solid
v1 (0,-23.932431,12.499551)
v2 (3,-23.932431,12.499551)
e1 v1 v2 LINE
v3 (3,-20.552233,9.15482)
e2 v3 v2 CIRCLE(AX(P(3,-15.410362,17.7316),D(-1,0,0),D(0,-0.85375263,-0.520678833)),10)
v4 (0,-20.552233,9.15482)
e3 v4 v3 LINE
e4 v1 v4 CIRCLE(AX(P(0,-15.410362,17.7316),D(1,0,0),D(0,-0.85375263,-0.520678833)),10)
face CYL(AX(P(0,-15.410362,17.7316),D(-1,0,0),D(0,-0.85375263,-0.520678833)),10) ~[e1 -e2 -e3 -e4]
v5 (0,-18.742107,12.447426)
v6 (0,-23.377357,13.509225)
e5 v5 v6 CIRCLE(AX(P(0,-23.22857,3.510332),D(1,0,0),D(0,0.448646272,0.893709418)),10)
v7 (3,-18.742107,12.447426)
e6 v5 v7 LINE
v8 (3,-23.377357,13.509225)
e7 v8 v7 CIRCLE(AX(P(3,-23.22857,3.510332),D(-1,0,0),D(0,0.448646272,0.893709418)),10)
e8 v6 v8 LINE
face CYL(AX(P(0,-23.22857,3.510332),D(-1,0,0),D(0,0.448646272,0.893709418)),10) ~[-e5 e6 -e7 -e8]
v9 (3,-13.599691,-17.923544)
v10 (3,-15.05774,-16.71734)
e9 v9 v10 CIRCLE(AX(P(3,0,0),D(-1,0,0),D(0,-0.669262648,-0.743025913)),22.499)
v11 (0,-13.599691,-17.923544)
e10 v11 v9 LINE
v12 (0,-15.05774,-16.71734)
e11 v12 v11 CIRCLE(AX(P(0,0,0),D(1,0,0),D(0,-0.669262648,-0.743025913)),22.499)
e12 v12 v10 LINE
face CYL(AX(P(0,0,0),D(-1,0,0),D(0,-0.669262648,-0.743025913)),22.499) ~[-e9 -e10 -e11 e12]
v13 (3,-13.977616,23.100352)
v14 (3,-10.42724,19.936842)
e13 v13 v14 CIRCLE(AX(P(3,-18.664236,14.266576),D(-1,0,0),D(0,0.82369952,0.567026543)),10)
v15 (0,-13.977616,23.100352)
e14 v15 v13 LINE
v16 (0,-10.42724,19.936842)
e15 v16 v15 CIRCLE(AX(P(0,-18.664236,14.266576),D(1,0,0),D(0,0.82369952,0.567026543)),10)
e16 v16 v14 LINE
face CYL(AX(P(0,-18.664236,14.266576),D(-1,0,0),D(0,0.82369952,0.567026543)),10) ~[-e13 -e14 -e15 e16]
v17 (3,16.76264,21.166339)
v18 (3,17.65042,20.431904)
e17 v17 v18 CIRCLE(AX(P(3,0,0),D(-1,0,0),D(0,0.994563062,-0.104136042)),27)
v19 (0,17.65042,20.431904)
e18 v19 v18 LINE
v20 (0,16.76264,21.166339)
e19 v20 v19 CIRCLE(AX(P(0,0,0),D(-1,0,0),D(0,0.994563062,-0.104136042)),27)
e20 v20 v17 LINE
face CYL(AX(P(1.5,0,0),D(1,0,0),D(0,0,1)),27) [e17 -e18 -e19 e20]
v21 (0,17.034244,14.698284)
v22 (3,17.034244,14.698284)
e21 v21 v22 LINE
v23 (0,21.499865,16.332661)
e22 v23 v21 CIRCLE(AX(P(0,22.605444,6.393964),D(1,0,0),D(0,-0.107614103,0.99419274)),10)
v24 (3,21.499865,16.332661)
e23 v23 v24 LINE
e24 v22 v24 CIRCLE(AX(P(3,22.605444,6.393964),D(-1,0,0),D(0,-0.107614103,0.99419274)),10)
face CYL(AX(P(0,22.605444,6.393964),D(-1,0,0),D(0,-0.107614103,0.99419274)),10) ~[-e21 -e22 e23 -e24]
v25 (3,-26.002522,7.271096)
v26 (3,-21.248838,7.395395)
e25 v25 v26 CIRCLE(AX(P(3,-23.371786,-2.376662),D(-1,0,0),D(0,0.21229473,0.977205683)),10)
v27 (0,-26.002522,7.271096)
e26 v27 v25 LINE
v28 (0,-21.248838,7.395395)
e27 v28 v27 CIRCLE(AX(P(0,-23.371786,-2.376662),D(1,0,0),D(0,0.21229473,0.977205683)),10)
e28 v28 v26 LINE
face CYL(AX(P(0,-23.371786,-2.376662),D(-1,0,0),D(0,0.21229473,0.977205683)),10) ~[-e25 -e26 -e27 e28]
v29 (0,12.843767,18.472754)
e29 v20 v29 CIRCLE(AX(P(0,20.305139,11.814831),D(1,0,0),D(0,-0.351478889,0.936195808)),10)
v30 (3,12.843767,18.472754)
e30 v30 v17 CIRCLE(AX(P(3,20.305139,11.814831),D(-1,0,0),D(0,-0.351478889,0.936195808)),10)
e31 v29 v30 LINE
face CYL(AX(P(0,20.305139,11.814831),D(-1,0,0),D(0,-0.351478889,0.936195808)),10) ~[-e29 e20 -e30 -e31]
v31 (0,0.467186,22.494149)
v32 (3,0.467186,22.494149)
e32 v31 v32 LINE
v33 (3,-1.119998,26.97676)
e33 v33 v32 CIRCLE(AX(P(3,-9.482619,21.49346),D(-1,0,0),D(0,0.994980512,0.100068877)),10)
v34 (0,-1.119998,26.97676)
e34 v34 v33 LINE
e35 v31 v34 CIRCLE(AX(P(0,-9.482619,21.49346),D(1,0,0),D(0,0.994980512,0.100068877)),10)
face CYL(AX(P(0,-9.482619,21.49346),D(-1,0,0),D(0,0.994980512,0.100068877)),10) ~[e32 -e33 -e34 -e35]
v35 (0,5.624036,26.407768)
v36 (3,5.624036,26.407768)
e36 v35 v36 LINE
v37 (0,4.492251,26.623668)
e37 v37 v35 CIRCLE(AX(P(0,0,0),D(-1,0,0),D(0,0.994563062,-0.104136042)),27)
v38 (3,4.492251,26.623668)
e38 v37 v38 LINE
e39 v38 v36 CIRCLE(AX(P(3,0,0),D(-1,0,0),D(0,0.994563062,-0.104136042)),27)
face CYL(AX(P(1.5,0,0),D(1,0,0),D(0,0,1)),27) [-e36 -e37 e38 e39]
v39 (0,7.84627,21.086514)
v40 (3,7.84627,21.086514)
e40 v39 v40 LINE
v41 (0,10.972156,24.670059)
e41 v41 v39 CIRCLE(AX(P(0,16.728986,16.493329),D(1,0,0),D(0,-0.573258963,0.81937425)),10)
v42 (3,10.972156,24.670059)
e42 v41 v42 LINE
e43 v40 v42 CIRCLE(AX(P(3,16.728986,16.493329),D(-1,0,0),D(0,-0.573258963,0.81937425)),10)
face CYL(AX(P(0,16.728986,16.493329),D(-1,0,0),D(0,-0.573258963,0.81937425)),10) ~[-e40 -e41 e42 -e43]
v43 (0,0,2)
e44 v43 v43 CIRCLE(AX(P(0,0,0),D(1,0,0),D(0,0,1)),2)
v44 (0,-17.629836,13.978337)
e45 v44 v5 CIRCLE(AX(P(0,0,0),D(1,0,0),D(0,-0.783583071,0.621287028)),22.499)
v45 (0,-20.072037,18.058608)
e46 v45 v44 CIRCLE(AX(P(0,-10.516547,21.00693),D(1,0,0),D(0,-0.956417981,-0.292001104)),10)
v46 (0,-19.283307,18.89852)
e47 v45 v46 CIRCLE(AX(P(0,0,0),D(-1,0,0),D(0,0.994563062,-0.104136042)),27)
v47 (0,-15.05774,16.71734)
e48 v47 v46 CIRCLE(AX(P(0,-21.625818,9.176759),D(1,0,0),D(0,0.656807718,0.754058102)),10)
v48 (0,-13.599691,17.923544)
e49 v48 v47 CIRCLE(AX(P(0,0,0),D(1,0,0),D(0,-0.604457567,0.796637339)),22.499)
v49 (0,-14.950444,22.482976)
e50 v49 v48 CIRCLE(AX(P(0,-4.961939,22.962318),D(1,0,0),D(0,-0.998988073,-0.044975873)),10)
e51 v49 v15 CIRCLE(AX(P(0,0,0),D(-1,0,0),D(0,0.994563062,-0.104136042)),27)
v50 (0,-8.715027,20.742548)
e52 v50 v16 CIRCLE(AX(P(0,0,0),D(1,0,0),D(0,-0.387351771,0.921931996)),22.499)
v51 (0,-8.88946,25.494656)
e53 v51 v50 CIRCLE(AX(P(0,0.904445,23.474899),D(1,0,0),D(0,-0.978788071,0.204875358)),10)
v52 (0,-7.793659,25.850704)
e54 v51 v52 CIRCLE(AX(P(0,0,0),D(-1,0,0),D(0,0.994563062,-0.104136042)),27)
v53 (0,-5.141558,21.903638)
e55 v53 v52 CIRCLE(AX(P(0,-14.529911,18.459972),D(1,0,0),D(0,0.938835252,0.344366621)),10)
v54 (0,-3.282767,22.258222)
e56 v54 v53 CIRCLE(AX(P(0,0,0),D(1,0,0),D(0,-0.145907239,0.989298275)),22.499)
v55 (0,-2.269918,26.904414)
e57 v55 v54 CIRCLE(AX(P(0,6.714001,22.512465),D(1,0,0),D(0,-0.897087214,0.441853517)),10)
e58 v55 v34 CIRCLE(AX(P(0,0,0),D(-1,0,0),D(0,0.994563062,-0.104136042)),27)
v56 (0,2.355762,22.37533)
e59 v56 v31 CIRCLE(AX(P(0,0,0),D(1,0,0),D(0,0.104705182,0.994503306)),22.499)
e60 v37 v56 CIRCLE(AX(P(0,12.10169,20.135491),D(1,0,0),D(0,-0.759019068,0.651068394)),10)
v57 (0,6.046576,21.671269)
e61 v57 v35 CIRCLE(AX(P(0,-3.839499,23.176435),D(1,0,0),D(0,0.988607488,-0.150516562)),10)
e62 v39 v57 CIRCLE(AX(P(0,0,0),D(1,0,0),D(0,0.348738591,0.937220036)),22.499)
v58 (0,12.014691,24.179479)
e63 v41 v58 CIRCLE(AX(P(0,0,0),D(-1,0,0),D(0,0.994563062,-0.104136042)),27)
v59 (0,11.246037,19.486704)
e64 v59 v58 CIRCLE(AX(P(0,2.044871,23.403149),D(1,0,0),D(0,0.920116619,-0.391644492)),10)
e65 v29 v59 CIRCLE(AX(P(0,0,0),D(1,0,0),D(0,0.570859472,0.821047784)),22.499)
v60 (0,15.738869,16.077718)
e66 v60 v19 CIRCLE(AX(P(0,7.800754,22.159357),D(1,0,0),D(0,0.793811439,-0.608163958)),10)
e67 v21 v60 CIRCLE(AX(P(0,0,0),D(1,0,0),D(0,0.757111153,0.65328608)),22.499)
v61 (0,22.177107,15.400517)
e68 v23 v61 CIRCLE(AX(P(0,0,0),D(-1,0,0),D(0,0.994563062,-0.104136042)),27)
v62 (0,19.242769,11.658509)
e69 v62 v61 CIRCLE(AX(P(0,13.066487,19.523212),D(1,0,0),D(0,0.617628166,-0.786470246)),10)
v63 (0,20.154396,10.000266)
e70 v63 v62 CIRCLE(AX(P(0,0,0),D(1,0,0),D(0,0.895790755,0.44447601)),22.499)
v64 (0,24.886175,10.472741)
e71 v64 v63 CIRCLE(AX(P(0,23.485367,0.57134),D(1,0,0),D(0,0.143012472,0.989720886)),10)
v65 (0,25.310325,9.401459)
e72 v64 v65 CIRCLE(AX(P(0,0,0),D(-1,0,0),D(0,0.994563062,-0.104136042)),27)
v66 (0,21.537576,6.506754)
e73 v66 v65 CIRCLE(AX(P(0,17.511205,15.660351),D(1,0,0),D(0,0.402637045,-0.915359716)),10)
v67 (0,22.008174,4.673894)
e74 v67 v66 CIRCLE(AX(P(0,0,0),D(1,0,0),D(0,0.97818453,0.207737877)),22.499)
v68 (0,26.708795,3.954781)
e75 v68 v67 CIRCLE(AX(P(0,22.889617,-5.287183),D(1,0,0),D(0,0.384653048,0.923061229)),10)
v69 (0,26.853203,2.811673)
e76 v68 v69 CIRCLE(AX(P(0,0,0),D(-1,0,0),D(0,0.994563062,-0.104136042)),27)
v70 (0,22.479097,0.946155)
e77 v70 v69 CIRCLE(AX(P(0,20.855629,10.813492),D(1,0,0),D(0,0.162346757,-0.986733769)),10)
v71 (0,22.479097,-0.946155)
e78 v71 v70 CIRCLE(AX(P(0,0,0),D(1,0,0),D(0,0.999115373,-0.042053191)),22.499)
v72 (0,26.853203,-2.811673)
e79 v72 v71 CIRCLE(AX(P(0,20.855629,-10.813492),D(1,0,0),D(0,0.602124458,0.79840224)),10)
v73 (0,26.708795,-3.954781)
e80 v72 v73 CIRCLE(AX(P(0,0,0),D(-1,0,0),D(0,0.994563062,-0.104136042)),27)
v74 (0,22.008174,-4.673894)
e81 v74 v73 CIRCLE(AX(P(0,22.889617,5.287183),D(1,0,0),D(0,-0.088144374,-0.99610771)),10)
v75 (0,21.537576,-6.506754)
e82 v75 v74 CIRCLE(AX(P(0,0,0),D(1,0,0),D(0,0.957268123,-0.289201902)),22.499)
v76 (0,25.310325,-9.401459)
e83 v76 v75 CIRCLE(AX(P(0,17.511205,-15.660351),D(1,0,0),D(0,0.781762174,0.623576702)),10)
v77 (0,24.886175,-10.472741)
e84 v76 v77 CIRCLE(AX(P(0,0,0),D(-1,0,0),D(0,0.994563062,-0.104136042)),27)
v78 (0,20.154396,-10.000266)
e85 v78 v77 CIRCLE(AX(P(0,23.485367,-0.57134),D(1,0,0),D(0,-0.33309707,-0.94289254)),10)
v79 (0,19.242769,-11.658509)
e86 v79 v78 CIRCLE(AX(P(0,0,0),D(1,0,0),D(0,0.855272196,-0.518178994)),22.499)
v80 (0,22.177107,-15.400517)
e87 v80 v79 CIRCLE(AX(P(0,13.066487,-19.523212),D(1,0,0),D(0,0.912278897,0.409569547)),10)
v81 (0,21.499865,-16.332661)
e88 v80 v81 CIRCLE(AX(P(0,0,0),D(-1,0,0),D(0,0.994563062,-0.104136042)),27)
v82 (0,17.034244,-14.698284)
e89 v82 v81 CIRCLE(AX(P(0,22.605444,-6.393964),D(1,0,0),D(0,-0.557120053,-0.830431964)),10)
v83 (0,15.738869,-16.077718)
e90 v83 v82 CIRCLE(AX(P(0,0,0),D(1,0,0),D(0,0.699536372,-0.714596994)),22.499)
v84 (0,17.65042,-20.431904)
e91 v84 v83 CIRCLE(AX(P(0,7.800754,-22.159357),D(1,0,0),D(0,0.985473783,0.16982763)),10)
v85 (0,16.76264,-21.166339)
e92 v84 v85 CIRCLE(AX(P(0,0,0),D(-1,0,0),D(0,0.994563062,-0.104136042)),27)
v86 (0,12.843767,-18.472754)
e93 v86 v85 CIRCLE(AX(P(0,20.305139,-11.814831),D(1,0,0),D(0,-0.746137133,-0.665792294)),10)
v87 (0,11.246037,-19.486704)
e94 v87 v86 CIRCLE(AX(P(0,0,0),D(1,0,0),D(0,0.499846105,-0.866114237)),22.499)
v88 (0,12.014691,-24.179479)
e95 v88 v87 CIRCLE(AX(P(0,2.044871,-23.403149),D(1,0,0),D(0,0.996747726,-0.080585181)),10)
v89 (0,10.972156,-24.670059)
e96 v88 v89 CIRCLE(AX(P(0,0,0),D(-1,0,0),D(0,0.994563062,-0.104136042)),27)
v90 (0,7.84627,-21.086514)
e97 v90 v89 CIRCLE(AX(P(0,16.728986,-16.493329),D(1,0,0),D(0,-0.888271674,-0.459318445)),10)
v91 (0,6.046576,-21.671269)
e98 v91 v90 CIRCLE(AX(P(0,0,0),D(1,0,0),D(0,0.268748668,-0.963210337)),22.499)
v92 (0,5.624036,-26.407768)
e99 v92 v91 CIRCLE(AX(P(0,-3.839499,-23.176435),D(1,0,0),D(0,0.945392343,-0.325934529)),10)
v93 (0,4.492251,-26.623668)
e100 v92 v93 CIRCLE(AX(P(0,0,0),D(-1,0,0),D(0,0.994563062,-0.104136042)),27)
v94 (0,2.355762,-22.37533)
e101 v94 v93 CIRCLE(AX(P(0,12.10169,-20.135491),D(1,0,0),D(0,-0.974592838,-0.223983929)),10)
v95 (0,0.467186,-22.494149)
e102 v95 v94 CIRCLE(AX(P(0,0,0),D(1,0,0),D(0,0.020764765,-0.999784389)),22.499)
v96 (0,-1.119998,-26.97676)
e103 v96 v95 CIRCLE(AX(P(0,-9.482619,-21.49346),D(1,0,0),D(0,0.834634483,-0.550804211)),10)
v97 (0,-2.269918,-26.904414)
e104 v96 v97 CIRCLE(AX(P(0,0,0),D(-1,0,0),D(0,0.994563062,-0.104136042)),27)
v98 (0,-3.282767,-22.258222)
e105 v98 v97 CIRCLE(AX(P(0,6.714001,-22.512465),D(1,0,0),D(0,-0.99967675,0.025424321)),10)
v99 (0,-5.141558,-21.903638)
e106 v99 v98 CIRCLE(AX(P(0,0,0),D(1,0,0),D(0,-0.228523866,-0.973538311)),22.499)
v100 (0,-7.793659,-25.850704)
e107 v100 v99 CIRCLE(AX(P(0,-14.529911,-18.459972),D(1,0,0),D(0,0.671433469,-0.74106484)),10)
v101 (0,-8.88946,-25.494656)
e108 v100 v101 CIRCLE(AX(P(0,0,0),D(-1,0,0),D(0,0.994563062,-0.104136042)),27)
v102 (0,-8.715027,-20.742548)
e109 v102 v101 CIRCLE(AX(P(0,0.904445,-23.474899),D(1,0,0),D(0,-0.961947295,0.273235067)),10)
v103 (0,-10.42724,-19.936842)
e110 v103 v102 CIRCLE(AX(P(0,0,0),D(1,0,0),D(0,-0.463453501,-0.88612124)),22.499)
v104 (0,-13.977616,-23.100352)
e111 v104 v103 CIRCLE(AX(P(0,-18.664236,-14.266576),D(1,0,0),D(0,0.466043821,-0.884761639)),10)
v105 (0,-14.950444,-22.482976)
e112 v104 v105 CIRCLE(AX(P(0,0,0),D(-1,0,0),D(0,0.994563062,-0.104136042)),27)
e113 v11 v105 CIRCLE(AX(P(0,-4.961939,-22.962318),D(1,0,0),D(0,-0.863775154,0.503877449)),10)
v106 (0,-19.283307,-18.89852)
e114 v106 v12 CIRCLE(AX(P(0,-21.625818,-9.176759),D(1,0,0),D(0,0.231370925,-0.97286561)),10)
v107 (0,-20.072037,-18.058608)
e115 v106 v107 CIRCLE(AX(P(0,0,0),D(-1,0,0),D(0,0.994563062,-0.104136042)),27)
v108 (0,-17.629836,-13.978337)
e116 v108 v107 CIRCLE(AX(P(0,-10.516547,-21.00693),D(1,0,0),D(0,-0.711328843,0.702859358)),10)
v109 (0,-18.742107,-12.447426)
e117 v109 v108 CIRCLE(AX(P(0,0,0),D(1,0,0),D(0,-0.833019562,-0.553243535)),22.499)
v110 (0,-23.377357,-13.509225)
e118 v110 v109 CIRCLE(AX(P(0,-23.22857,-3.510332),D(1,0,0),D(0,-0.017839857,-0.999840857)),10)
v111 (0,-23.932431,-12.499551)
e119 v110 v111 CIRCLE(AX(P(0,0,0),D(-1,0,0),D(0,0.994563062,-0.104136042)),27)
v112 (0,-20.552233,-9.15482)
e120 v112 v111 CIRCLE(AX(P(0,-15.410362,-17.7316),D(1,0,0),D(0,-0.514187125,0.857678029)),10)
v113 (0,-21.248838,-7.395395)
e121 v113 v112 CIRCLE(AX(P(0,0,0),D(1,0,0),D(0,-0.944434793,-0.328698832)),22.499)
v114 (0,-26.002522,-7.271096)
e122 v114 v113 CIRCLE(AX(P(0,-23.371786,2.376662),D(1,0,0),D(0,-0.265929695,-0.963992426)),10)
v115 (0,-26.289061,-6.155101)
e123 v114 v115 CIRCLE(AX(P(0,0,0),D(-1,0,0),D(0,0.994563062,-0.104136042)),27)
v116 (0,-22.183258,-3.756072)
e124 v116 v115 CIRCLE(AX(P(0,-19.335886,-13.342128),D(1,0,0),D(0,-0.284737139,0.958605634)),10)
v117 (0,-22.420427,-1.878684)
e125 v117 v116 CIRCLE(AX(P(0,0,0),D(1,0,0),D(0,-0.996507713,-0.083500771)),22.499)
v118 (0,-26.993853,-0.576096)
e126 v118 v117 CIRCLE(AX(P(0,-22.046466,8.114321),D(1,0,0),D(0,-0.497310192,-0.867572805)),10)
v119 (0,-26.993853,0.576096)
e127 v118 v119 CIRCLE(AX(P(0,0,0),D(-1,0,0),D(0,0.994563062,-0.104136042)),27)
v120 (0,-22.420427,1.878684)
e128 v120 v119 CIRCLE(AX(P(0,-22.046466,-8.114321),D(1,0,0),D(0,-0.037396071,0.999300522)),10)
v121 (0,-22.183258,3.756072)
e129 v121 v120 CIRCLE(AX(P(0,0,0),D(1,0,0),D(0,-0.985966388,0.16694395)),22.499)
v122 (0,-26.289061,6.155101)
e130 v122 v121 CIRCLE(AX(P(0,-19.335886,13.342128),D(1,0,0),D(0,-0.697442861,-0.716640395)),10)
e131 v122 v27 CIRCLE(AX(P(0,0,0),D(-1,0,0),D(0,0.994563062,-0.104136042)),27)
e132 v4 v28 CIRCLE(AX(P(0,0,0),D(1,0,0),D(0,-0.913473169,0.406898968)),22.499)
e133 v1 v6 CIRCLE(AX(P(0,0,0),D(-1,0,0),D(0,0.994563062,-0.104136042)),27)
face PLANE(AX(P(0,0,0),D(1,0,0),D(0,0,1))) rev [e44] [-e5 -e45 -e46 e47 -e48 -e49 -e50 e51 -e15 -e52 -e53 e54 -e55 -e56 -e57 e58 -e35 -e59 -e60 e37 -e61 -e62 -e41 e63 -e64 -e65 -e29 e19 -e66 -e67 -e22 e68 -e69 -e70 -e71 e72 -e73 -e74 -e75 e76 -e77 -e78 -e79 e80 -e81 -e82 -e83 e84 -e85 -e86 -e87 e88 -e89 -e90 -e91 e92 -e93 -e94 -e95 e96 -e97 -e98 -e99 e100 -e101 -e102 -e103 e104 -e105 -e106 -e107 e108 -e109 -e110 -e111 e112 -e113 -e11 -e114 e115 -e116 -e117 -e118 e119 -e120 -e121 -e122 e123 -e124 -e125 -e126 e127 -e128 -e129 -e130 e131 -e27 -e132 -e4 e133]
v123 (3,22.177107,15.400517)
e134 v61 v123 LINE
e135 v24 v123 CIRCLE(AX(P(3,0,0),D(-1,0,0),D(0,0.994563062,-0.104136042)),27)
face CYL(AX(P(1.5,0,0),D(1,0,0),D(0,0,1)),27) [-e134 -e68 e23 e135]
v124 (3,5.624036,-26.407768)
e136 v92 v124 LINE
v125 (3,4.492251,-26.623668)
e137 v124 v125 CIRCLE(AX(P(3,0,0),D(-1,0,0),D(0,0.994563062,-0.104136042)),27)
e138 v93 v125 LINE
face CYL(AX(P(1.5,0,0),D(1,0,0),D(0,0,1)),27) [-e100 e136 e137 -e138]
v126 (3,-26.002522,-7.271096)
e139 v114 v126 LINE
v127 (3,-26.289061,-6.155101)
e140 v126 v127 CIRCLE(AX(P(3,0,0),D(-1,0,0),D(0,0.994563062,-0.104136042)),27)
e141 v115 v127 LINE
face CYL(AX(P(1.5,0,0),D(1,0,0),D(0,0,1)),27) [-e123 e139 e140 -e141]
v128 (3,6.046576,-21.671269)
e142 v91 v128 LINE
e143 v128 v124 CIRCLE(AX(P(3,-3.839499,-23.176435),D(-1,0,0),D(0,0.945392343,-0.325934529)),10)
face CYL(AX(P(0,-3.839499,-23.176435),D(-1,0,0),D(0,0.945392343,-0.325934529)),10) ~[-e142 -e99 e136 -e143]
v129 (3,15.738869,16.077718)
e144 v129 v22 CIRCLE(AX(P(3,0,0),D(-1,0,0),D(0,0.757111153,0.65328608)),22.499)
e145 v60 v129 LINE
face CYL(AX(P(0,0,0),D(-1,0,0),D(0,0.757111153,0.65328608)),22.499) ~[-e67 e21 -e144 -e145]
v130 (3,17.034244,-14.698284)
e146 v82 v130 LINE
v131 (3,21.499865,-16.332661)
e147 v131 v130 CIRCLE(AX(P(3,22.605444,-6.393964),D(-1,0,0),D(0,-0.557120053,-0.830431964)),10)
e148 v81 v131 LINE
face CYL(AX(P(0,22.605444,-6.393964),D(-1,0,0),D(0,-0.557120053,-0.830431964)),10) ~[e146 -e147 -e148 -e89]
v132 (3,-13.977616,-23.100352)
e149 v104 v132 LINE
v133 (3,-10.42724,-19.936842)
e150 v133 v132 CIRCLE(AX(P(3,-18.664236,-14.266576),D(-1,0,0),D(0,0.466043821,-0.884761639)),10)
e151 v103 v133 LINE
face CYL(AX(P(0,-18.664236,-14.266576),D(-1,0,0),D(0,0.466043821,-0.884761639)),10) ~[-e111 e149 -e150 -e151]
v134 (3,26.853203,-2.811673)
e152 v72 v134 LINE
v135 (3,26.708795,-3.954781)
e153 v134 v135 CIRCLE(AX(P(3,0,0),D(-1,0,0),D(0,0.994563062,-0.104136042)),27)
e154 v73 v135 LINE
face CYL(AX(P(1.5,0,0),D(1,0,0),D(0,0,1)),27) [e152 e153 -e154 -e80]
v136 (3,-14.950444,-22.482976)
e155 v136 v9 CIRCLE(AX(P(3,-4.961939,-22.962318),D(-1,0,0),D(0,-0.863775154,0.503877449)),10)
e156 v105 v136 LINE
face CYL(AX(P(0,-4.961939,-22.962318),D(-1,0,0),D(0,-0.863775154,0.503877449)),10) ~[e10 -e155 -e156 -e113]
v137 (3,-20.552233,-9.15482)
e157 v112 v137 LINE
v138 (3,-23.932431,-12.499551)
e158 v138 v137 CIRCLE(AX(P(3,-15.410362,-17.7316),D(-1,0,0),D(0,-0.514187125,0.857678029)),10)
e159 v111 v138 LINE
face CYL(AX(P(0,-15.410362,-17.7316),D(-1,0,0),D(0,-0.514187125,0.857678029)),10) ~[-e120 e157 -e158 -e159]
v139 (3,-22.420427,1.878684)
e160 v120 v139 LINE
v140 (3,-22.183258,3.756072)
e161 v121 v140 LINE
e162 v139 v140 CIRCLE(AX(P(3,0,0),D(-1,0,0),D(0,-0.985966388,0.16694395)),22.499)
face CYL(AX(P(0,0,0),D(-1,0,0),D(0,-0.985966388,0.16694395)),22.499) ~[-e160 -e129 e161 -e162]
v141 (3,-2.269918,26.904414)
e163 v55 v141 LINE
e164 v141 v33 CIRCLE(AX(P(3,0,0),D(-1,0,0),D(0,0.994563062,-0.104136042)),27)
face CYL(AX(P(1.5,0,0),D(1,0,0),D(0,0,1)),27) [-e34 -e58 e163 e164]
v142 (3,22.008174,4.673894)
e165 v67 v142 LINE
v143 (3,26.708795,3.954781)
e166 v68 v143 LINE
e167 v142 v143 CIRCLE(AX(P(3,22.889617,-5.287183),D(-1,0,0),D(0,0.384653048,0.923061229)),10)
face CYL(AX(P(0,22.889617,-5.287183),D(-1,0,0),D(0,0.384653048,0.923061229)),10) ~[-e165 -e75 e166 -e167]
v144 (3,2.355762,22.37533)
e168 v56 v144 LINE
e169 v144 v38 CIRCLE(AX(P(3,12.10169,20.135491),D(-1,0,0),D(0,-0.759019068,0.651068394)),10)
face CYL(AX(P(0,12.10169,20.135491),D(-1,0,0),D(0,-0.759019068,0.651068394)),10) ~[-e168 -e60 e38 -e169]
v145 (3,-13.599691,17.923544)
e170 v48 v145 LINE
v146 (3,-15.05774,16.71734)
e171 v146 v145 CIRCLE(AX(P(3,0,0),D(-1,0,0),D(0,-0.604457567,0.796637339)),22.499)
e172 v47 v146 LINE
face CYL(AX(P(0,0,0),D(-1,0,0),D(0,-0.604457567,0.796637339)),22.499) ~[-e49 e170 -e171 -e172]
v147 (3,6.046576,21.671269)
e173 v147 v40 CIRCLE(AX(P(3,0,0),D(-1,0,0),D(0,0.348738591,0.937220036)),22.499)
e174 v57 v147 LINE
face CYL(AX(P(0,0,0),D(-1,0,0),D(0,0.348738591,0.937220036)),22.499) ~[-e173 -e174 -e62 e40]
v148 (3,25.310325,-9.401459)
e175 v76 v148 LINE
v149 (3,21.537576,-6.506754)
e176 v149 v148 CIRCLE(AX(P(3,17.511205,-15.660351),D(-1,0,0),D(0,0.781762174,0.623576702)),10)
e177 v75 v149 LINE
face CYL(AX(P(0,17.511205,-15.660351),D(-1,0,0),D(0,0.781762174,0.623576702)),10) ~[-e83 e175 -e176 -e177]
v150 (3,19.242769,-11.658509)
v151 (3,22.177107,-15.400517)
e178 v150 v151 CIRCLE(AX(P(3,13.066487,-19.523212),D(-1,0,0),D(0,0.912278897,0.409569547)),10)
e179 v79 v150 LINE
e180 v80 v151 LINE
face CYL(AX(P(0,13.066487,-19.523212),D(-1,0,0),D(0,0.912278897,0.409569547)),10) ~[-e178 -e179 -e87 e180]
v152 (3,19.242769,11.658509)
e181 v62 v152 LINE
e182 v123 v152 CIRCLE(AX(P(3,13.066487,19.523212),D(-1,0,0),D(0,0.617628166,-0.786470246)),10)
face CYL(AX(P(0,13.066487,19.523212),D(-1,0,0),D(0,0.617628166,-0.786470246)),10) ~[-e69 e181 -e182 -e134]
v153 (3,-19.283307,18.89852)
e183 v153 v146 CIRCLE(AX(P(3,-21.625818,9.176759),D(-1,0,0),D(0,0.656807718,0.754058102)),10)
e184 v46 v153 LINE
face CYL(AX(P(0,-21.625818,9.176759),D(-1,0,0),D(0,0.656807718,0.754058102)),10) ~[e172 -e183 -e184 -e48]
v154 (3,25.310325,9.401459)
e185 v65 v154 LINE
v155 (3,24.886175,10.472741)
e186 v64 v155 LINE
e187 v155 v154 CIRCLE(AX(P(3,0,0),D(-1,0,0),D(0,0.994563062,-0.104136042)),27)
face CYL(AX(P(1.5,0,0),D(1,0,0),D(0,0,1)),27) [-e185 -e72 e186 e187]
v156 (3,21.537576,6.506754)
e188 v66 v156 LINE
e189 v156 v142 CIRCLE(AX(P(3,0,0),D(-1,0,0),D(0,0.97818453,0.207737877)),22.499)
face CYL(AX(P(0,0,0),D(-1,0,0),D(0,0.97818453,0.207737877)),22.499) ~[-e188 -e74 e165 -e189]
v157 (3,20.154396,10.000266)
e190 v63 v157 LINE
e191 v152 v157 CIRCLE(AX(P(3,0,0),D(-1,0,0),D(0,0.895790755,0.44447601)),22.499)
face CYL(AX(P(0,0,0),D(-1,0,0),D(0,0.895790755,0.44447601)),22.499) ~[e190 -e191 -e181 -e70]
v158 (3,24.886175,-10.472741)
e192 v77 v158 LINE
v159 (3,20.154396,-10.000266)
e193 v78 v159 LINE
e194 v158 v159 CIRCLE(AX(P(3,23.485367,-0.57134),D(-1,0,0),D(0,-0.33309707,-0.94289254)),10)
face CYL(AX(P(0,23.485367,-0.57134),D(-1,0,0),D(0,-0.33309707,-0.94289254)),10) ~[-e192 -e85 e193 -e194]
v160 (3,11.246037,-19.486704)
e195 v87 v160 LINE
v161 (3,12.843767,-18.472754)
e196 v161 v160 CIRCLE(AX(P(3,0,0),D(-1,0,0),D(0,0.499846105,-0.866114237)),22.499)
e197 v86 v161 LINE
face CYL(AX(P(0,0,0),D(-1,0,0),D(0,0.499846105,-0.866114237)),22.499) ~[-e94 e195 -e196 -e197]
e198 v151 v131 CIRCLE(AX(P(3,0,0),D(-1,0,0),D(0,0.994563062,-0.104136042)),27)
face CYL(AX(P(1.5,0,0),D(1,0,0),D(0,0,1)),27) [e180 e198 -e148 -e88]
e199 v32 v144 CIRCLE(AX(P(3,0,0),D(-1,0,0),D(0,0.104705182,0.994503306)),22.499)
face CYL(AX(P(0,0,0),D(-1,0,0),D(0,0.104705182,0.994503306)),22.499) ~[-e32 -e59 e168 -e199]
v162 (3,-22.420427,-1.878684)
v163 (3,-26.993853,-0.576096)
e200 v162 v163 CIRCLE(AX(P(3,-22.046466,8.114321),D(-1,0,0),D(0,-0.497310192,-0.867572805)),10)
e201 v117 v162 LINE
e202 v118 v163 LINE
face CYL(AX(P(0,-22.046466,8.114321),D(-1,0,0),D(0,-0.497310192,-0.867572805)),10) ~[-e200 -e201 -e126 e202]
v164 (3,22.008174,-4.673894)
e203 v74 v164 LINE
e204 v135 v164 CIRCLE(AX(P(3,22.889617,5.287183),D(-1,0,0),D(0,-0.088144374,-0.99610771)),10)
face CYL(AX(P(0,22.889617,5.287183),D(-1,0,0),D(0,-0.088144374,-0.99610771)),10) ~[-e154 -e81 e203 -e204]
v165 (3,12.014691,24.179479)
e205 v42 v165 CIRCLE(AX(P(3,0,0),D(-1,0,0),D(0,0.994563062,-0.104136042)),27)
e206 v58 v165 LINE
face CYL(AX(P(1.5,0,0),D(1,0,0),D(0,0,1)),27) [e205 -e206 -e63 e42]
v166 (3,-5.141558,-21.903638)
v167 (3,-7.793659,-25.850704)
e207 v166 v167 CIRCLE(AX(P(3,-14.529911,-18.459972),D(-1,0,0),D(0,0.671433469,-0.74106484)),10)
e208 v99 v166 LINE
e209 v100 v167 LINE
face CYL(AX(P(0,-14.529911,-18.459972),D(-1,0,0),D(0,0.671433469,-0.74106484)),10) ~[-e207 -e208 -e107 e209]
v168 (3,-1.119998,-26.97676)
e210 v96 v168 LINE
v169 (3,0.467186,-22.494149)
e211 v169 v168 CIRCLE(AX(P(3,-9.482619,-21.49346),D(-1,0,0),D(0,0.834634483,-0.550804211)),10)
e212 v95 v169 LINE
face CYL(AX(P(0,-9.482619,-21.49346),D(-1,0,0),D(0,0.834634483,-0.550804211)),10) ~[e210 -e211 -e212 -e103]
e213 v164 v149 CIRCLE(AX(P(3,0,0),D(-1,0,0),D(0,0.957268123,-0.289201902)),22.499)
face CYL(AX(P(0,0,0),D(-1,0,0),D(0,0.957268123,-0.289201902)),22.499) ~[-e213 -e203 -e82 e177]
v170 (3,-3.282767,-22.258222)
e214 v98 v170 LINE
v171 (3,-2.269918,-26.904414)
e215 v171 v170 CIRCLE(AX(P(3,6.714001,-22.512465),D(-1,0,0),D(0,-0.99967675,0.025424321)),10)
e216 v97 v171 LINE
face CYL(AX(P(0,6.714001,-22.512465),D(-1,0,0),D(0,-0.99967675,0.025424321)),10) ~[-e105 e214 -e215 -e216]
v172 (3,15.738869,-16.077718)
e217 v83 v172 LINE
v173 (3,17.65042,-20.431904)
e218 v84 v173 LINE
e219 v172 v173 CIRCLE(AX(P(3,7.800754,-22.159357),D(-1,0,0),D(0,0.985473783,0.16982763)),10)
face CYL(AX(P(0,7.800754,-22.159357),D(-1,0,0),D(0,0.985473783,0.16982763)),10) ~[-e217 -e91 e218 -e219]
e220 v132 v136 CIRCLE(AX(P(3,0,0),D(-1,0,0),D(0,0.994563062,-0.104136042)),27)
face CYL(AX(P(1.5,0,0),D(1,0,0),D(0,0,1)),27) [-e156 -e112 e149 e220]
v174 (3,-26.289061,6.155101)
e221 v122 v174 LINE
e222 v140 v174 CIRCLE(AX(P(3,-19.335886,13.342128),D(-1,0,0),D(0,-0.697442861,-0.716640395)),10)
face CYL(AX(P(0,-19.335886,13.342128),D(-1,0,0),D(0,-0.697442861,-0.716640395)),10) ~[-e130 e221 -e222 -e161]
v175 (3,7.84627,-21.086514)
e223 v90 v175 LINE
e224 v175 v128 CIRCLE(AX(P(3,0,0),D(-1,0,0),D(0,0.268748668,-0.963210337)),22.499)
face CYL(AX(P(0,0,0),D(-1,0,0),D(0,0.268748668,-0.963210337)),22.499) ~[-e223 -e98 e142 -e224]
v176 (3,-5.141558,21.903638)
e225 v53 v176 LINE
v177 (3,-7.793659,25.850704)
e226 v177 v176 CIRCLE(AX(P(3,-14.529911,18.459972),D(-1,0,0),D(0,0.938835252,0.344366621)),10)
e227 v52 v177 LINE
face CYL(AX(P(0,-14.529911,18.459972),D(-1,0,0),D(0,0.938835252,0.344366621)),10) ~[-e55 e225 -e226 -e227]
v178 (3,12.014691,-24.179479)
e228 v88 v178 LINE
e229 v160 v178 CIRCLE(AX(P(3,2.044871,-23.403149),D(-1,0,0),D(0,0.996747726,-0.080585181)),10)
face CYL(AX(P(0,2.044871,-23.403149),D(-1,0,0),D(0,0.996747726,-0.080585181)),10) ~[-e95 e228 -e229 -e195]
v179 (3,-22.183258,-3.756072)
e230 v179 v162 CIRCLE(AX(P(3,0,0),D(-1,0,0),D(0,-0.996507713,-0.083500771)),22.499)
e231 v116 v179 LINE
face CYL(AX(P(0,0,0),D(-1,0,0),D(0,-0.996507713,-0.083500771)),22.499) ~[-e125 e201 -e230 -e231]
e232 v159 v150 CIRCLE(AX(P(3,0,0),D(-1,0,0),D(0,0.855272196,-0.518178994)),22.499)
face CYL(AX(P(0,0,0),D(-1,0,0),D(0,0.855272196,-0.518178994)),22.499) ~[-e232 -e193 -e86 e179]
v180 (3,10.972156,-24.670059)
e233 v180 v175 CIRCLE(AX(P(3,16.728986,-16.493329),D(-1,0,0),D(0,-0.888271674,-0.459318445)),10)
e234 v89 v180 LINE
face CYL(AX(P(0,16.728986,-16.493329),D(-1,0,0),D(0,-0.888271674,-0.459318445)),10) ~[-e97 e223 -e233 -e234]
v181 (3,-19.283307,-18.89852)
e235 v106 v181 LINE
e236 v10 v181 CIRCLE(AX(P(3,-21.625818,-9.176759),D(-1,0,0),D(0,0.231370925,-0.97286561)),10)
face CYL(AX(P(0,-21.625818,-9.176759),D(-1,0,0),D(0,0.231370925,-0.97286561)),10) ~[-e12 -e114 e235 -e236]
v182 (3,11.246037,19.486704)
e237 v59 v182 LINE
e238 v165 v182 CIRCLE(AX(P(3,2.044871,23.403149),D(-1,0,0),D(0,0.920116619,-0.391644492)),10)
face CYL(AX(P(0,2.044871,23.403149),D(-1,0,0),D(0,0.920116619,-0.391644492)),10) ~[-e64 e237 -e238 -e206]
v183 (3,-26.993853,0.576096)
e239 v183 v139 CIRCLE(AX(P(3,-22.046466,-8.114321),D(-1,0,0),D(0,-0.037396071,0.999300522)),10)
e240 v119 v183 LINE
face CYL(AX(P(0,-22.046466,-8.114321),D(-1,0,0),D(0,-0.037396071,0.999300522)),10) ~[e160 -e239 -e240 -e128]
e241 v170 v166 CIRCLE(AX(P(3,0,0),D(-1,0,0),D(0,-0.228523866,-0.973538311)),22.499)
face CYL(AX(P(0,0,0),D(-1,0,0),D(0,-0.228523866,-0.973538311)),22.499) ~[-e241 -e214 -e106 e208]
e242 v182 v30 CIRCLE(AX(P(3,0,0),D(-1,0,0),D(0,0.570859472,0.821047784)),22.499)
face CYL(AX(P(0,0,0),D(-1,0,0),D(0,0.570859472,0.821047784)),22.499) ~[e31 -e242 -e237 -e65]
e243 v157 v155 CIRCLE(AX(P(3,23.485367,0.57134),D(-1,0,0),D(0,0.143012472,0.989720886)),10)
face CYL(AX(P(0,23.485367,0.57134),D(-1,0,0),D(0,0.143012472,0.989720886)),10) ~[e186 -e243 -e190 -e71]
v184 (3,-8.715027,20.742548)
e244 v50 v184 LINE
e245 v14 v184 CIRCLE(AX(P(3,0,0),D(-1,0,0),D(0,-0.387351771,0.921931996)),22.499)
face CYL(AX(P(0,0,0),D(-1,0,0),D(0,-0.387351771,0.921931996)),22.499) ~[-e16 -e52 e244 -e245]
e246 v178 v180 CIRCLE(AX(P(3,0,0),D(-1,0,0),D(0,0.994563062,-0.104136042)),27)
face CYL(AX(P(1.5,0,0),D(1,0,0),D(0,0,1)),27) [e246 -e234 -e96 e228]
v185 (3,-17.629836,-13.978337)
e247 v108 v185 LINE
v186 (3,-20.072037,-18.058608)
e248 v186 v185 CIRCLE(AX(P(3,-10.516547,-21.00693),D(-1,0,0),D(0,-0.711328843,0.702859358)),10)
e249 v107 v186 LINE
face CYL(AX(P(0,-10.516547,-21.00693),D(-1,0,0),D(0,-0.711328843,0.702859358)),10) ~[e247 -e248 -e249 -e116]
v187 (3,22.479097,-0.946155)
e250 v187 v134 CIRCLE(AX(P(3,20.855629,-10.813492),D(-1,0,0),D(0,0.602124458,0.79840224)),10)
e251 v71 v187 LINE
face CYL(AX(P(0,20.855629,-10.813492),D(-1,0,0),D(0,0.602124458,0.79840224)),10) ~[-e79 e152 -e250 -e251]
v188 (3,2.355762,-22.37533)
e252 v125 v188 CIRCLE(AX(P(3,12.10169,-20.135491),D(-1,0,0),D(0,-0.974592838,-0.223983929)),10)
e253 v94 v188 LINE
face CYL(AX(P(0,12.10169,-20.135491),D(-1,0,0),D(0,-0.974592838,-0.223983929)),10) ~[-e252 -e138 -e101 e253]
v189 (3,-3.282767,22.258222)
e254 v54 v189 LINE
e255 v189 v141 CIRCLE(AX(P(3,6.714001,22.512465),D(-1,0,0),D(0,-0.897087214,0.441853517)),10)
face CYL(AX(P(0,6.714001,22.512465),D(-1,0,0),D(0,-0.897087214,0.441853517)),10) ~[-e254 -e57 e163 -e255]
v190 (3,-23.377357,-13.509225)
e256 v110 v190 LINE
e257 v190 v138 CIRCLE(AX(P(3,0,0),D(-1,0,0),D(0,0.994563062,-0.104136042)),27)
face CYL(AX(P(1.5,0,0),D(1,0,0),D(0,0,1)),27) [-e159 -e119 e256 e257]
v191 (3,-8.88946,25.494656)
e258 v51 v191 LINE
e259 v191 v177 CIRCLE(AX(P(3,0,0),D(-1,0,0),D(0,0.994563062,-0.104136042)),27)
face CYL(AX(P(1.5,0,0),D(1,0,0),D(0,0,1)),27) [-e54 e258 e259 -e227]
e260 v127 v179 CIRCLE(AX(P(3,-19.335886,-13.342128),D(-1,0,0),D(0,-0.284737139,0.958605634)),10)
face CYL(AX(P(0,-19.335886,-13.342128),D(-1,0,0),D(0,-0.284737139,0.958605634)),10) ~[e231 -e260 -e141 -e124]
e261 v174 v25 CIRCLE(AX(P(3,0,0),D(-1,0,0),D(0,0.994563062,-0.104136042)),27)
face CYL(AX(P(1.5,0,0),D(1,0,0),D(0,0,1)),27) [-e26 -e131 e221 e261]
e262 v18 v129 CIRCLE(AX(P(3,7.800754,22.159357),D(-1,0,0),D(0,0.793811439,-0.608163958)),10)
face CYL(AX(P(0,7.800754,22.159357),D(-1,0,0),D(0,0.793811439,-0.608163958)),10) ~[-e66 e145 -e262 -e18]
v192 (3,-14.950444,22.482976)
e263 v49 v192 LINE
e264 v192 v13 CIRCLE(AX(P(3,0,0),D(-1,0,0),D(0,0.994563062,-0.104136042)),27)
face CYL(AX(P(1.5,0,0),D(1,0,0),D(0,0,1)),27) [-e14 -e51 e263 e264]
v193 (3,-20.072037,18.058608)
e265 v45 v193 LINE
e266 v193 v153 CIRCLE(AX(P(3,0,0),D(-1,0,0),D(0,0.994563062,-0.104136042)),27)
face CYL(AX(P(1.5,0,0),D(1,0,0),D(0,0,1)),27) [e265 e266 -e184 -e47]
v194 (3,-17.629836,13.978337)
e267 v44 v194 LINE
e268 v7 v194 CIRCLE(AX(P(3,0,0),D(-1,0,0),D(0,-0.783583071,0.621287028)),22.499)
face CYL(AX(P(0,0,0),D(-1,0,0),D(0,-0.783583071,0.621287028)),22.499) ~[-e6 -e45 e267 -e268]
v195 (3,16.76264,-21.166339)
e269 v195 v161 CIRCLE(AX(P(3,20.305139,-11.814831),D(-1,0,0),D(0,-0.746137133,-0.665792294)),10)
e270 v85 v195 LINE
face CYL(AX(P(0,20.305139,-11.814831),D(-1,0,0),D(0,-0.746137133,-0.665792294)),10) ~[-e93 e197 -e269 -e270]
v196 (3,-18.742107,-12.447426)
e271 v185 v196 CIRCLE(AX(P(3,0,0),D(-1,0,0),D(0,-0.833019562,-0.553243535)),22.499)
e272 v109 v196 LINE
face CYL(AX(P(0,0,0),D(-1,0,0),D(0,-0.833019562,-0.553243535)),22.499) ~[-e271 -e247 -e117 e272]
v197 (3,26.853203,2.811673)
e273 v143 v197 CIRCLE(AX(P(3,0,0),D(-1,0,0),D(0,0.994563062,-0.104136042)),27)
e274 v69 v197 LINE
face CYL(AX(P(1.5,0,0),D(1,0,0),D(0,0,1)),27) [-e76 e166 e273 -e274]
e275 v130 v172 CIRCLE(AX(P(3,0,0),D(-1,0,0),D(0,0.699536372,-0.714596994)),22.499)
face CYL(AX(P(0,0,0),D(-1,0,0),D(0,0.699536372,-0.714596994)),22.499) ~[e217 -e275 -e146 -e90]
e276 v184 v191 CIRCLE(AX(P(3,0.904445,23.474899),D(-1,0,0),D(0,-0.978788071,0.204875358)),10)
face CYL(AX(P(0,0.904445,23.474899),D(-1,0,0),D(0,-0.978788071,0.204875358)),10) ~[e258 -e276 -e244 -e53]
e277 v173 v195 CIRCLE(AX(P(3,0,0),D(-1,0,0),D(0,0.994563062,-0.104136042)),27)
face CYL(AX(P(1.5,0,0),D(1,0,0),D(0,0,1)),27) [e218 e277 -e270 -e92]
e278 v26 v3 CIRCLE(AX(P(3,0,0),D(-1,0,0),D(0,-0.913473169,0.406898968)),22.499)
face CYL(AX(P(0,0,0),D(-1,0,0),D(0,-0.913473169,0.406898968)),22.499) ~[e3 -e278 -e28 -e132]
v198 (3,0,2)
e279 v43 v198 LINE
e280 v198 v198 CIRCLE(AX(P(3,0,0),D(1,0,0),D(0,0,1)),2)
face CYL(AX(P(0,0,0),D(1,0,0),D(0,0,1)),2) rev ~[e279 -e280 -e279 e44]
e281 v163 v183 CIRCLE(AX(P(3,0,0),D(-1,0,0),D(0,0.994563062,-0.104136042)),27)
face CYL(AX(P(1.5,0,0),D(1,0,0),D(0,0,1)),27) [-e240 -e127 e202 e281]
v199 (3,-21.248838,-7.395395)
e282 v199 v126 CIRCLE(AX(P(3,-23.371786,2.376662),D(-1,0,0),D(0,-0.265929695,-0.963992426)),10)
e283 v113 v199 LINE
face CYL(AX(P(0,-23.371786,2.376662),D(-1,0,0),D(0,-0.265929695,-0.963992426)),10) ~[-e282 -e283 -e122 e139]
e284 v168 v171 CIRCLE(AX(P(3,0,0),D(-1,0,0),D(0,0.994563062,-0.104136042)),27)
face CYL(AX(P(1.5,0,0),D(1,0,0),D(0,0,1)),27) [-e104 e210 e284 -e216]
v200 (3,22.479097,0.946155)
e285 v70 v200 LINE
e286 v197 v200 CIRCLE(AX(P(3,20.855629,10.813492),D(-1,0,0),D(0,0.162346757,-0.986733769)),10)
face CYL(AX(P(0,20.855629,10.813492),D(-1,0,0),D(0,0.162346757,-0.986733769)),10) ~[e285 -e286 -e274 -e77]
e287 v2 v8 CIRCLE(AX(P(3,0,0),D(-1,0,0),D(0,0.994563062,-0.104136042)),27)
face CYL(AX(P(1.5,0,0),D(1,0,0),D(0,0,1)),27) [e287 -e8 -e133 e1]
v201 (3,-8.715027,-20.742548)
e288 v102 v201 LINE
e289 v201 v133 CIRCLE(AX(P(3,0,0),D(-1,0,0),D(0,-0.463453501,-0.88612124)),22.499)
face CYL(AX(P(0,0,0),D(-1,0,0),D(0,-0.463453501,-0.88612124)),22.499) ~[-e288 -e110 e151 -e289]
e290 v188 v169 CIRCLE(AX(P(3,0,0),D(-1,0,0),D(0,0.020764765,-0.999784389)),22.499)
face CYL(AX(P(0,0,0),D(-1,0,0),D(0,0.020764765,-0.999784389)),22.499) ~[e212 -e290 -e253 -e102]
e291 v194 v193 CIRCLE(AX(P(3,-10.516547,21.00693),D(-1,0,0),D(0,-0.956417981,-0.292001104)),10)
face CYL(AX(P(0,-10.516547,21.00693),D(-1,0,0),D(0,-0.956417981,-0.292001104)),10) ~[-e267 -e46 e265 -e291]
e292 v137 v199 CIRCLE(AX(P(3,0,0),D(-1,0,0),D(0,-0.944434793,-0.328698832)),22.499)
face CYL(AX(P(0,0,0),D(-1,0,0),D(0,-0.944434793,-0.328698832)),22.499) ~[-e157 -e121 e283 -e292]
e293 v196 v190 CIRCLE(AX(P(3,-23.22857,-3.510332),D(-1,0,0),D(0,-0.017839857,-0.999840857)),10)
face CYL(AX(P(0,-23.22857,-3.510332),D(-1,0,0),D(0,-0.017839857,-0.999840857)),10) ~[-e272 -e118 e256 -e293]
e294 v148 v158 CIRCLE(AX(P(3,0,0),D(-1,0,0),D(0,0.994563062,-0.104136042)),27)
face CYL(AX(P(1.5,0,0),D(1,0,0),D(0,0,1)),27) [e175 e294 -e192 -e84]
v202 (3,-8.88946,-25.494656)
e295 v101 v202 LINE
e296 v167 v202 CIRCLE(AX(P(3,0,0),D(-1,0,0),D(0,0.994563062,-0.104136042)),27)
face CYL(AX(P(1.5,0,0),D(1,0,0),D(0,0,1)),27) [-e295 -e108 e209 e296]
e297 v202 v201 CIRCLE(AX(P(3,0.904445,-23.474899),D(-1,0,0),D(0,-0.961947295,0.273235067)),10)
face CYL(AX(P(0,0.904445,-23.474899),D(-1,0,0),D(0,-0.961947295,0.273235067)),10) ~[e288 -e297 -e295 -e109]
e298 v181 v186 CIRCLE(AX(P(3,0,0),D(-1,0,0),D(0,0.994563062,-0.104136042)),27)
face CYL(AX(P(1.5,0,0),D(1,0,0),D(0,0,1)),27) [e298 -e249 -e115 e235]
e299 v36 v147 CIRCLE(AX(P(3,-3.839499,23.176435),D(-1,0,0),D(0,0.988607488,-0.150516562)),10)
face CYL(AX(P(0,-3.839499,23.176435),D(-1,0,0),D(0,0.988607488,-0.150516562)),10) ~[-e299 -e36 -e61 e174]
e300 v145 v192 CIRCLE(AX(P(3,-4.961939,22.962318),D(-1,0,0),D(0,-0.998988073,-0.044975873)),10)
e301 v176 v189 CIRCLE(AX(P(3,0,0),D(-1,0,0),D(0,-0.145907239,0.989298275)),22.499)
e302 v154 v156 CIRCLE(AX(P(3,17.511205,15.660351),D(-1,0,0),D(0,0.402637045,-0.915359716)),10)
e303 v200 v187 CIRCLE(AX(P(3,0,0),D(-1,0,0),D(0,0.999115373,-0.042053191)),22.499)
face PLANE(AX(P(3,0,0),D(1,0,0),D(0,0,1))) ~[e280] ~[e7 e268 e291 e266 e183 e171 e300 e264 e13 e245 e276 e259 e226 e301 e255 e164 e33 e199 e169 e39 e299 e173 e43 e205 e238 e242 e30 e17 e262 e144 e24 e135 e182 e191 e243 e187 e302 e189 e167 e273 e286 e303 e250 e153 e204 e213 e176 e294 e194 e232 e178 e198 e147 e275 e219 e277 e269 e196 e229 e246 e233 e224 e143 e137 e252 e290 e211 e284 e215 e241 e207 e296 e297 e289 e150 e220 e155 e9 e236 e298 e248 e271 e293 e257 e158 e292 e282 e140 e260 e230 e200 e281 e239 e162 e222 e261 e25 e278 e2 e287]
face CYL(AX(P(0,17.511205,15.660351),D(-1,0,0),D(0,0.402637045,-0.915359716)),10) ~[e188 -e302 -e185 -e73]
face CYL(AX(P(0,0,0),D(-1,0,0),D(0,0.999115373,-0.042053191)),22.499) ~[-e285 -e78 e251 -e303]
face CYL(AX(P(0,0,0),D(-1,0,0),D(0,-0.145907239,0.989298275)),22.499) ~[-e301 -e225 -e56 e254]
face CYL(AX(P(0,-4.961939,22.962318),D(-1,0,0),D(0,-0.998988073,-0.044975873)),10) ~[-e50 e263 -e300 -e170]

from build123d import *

# Parameters (mm, degrees)
BASPROSKE_W     = 3
BASPROSKE_H     = 27
TOOTHCUT_DEPTH  = 39.301436004
TEETHCUTS_COUNT = 25
TEETHCUTS_ANGLE = 345.6
BORSKE_R        = 2
BORE_DEPTH      = 50.0000508


with BuildPart() as part:
    # BasProSke → Base-Revolve (revolve)
    with BuildSketch(Plane(origin=(0, 0, 0), x_dir=(1, 0, 0), z_dir=(0, 1, 0)), mode=Mode.PRIVATE) as base_revolve_sk:
        with Locations((1.5, 13.5)):
            Rectangle(BASPROSKE_W, BASPROSKE_H)
    revolve(base_revolve_sk.sketch.rotate(Axis((-10, 0, 0), (1, 0, 0)), 180), axis=Axis((-10, 0, 0), (1, 0, 0)))

    # TooCutSke → ToothCut (cut, through all)
    with BuildSketch(Plane(origin=(0, 0, 0), x_dir=(0, 0, -1), z_dir=(1, 0, 0))):
        with BuildLine():
            ThreePointArc((0.946154762, 22.479096783), (0, 22.499), (-0.946154762, 22.479096783))
            ThreePointArc((-0.946154762, 22.479096783), (-1.62094792, 24.792268013), (-2.829470045, 26.876873784))
            ThreePointArc((-2.829470045, 26.876873784), (0, 27.0254), (2.829470045, 26.876873784))
            ThreePointArc((2.829470045, 26.876873784), (1.62094792, 24.792268013), (0.946154762, 22.479096783))
        make_face()
    toothcut = extrude(amount=TOOTHCUT_DEPTH, mode=Mode.SUBTRACT)

    # TeethCuts: ToothCut ×25 about axis
    teethcuts_axis = Axis((-10, 0, 0), (1, 0, 0))
    for i in range(1, TEETHCUTS_COUNT):
        add(toothcut.rotate(teethcuts_axis, i * TEETHCUTS_ANGLE / (TEETHCUTS_COUNT - 1)), mode=Mode.SUBTRACT)

    # BorSke → Bore (cut, symmetric)
    with BuildSketch(Plane(origin=(0, 0, 0), x_dir=(0, 0, -1), z_dir=(1, 0, 0))):
        with Locations(Location((0, 0, 0), (0, 0, 180))):
            Circle(BORSKE_R)
    extrude(amount=BORE_DEPTH, both=True, mode=Mode.SUBTRACT)


solid = part.part
